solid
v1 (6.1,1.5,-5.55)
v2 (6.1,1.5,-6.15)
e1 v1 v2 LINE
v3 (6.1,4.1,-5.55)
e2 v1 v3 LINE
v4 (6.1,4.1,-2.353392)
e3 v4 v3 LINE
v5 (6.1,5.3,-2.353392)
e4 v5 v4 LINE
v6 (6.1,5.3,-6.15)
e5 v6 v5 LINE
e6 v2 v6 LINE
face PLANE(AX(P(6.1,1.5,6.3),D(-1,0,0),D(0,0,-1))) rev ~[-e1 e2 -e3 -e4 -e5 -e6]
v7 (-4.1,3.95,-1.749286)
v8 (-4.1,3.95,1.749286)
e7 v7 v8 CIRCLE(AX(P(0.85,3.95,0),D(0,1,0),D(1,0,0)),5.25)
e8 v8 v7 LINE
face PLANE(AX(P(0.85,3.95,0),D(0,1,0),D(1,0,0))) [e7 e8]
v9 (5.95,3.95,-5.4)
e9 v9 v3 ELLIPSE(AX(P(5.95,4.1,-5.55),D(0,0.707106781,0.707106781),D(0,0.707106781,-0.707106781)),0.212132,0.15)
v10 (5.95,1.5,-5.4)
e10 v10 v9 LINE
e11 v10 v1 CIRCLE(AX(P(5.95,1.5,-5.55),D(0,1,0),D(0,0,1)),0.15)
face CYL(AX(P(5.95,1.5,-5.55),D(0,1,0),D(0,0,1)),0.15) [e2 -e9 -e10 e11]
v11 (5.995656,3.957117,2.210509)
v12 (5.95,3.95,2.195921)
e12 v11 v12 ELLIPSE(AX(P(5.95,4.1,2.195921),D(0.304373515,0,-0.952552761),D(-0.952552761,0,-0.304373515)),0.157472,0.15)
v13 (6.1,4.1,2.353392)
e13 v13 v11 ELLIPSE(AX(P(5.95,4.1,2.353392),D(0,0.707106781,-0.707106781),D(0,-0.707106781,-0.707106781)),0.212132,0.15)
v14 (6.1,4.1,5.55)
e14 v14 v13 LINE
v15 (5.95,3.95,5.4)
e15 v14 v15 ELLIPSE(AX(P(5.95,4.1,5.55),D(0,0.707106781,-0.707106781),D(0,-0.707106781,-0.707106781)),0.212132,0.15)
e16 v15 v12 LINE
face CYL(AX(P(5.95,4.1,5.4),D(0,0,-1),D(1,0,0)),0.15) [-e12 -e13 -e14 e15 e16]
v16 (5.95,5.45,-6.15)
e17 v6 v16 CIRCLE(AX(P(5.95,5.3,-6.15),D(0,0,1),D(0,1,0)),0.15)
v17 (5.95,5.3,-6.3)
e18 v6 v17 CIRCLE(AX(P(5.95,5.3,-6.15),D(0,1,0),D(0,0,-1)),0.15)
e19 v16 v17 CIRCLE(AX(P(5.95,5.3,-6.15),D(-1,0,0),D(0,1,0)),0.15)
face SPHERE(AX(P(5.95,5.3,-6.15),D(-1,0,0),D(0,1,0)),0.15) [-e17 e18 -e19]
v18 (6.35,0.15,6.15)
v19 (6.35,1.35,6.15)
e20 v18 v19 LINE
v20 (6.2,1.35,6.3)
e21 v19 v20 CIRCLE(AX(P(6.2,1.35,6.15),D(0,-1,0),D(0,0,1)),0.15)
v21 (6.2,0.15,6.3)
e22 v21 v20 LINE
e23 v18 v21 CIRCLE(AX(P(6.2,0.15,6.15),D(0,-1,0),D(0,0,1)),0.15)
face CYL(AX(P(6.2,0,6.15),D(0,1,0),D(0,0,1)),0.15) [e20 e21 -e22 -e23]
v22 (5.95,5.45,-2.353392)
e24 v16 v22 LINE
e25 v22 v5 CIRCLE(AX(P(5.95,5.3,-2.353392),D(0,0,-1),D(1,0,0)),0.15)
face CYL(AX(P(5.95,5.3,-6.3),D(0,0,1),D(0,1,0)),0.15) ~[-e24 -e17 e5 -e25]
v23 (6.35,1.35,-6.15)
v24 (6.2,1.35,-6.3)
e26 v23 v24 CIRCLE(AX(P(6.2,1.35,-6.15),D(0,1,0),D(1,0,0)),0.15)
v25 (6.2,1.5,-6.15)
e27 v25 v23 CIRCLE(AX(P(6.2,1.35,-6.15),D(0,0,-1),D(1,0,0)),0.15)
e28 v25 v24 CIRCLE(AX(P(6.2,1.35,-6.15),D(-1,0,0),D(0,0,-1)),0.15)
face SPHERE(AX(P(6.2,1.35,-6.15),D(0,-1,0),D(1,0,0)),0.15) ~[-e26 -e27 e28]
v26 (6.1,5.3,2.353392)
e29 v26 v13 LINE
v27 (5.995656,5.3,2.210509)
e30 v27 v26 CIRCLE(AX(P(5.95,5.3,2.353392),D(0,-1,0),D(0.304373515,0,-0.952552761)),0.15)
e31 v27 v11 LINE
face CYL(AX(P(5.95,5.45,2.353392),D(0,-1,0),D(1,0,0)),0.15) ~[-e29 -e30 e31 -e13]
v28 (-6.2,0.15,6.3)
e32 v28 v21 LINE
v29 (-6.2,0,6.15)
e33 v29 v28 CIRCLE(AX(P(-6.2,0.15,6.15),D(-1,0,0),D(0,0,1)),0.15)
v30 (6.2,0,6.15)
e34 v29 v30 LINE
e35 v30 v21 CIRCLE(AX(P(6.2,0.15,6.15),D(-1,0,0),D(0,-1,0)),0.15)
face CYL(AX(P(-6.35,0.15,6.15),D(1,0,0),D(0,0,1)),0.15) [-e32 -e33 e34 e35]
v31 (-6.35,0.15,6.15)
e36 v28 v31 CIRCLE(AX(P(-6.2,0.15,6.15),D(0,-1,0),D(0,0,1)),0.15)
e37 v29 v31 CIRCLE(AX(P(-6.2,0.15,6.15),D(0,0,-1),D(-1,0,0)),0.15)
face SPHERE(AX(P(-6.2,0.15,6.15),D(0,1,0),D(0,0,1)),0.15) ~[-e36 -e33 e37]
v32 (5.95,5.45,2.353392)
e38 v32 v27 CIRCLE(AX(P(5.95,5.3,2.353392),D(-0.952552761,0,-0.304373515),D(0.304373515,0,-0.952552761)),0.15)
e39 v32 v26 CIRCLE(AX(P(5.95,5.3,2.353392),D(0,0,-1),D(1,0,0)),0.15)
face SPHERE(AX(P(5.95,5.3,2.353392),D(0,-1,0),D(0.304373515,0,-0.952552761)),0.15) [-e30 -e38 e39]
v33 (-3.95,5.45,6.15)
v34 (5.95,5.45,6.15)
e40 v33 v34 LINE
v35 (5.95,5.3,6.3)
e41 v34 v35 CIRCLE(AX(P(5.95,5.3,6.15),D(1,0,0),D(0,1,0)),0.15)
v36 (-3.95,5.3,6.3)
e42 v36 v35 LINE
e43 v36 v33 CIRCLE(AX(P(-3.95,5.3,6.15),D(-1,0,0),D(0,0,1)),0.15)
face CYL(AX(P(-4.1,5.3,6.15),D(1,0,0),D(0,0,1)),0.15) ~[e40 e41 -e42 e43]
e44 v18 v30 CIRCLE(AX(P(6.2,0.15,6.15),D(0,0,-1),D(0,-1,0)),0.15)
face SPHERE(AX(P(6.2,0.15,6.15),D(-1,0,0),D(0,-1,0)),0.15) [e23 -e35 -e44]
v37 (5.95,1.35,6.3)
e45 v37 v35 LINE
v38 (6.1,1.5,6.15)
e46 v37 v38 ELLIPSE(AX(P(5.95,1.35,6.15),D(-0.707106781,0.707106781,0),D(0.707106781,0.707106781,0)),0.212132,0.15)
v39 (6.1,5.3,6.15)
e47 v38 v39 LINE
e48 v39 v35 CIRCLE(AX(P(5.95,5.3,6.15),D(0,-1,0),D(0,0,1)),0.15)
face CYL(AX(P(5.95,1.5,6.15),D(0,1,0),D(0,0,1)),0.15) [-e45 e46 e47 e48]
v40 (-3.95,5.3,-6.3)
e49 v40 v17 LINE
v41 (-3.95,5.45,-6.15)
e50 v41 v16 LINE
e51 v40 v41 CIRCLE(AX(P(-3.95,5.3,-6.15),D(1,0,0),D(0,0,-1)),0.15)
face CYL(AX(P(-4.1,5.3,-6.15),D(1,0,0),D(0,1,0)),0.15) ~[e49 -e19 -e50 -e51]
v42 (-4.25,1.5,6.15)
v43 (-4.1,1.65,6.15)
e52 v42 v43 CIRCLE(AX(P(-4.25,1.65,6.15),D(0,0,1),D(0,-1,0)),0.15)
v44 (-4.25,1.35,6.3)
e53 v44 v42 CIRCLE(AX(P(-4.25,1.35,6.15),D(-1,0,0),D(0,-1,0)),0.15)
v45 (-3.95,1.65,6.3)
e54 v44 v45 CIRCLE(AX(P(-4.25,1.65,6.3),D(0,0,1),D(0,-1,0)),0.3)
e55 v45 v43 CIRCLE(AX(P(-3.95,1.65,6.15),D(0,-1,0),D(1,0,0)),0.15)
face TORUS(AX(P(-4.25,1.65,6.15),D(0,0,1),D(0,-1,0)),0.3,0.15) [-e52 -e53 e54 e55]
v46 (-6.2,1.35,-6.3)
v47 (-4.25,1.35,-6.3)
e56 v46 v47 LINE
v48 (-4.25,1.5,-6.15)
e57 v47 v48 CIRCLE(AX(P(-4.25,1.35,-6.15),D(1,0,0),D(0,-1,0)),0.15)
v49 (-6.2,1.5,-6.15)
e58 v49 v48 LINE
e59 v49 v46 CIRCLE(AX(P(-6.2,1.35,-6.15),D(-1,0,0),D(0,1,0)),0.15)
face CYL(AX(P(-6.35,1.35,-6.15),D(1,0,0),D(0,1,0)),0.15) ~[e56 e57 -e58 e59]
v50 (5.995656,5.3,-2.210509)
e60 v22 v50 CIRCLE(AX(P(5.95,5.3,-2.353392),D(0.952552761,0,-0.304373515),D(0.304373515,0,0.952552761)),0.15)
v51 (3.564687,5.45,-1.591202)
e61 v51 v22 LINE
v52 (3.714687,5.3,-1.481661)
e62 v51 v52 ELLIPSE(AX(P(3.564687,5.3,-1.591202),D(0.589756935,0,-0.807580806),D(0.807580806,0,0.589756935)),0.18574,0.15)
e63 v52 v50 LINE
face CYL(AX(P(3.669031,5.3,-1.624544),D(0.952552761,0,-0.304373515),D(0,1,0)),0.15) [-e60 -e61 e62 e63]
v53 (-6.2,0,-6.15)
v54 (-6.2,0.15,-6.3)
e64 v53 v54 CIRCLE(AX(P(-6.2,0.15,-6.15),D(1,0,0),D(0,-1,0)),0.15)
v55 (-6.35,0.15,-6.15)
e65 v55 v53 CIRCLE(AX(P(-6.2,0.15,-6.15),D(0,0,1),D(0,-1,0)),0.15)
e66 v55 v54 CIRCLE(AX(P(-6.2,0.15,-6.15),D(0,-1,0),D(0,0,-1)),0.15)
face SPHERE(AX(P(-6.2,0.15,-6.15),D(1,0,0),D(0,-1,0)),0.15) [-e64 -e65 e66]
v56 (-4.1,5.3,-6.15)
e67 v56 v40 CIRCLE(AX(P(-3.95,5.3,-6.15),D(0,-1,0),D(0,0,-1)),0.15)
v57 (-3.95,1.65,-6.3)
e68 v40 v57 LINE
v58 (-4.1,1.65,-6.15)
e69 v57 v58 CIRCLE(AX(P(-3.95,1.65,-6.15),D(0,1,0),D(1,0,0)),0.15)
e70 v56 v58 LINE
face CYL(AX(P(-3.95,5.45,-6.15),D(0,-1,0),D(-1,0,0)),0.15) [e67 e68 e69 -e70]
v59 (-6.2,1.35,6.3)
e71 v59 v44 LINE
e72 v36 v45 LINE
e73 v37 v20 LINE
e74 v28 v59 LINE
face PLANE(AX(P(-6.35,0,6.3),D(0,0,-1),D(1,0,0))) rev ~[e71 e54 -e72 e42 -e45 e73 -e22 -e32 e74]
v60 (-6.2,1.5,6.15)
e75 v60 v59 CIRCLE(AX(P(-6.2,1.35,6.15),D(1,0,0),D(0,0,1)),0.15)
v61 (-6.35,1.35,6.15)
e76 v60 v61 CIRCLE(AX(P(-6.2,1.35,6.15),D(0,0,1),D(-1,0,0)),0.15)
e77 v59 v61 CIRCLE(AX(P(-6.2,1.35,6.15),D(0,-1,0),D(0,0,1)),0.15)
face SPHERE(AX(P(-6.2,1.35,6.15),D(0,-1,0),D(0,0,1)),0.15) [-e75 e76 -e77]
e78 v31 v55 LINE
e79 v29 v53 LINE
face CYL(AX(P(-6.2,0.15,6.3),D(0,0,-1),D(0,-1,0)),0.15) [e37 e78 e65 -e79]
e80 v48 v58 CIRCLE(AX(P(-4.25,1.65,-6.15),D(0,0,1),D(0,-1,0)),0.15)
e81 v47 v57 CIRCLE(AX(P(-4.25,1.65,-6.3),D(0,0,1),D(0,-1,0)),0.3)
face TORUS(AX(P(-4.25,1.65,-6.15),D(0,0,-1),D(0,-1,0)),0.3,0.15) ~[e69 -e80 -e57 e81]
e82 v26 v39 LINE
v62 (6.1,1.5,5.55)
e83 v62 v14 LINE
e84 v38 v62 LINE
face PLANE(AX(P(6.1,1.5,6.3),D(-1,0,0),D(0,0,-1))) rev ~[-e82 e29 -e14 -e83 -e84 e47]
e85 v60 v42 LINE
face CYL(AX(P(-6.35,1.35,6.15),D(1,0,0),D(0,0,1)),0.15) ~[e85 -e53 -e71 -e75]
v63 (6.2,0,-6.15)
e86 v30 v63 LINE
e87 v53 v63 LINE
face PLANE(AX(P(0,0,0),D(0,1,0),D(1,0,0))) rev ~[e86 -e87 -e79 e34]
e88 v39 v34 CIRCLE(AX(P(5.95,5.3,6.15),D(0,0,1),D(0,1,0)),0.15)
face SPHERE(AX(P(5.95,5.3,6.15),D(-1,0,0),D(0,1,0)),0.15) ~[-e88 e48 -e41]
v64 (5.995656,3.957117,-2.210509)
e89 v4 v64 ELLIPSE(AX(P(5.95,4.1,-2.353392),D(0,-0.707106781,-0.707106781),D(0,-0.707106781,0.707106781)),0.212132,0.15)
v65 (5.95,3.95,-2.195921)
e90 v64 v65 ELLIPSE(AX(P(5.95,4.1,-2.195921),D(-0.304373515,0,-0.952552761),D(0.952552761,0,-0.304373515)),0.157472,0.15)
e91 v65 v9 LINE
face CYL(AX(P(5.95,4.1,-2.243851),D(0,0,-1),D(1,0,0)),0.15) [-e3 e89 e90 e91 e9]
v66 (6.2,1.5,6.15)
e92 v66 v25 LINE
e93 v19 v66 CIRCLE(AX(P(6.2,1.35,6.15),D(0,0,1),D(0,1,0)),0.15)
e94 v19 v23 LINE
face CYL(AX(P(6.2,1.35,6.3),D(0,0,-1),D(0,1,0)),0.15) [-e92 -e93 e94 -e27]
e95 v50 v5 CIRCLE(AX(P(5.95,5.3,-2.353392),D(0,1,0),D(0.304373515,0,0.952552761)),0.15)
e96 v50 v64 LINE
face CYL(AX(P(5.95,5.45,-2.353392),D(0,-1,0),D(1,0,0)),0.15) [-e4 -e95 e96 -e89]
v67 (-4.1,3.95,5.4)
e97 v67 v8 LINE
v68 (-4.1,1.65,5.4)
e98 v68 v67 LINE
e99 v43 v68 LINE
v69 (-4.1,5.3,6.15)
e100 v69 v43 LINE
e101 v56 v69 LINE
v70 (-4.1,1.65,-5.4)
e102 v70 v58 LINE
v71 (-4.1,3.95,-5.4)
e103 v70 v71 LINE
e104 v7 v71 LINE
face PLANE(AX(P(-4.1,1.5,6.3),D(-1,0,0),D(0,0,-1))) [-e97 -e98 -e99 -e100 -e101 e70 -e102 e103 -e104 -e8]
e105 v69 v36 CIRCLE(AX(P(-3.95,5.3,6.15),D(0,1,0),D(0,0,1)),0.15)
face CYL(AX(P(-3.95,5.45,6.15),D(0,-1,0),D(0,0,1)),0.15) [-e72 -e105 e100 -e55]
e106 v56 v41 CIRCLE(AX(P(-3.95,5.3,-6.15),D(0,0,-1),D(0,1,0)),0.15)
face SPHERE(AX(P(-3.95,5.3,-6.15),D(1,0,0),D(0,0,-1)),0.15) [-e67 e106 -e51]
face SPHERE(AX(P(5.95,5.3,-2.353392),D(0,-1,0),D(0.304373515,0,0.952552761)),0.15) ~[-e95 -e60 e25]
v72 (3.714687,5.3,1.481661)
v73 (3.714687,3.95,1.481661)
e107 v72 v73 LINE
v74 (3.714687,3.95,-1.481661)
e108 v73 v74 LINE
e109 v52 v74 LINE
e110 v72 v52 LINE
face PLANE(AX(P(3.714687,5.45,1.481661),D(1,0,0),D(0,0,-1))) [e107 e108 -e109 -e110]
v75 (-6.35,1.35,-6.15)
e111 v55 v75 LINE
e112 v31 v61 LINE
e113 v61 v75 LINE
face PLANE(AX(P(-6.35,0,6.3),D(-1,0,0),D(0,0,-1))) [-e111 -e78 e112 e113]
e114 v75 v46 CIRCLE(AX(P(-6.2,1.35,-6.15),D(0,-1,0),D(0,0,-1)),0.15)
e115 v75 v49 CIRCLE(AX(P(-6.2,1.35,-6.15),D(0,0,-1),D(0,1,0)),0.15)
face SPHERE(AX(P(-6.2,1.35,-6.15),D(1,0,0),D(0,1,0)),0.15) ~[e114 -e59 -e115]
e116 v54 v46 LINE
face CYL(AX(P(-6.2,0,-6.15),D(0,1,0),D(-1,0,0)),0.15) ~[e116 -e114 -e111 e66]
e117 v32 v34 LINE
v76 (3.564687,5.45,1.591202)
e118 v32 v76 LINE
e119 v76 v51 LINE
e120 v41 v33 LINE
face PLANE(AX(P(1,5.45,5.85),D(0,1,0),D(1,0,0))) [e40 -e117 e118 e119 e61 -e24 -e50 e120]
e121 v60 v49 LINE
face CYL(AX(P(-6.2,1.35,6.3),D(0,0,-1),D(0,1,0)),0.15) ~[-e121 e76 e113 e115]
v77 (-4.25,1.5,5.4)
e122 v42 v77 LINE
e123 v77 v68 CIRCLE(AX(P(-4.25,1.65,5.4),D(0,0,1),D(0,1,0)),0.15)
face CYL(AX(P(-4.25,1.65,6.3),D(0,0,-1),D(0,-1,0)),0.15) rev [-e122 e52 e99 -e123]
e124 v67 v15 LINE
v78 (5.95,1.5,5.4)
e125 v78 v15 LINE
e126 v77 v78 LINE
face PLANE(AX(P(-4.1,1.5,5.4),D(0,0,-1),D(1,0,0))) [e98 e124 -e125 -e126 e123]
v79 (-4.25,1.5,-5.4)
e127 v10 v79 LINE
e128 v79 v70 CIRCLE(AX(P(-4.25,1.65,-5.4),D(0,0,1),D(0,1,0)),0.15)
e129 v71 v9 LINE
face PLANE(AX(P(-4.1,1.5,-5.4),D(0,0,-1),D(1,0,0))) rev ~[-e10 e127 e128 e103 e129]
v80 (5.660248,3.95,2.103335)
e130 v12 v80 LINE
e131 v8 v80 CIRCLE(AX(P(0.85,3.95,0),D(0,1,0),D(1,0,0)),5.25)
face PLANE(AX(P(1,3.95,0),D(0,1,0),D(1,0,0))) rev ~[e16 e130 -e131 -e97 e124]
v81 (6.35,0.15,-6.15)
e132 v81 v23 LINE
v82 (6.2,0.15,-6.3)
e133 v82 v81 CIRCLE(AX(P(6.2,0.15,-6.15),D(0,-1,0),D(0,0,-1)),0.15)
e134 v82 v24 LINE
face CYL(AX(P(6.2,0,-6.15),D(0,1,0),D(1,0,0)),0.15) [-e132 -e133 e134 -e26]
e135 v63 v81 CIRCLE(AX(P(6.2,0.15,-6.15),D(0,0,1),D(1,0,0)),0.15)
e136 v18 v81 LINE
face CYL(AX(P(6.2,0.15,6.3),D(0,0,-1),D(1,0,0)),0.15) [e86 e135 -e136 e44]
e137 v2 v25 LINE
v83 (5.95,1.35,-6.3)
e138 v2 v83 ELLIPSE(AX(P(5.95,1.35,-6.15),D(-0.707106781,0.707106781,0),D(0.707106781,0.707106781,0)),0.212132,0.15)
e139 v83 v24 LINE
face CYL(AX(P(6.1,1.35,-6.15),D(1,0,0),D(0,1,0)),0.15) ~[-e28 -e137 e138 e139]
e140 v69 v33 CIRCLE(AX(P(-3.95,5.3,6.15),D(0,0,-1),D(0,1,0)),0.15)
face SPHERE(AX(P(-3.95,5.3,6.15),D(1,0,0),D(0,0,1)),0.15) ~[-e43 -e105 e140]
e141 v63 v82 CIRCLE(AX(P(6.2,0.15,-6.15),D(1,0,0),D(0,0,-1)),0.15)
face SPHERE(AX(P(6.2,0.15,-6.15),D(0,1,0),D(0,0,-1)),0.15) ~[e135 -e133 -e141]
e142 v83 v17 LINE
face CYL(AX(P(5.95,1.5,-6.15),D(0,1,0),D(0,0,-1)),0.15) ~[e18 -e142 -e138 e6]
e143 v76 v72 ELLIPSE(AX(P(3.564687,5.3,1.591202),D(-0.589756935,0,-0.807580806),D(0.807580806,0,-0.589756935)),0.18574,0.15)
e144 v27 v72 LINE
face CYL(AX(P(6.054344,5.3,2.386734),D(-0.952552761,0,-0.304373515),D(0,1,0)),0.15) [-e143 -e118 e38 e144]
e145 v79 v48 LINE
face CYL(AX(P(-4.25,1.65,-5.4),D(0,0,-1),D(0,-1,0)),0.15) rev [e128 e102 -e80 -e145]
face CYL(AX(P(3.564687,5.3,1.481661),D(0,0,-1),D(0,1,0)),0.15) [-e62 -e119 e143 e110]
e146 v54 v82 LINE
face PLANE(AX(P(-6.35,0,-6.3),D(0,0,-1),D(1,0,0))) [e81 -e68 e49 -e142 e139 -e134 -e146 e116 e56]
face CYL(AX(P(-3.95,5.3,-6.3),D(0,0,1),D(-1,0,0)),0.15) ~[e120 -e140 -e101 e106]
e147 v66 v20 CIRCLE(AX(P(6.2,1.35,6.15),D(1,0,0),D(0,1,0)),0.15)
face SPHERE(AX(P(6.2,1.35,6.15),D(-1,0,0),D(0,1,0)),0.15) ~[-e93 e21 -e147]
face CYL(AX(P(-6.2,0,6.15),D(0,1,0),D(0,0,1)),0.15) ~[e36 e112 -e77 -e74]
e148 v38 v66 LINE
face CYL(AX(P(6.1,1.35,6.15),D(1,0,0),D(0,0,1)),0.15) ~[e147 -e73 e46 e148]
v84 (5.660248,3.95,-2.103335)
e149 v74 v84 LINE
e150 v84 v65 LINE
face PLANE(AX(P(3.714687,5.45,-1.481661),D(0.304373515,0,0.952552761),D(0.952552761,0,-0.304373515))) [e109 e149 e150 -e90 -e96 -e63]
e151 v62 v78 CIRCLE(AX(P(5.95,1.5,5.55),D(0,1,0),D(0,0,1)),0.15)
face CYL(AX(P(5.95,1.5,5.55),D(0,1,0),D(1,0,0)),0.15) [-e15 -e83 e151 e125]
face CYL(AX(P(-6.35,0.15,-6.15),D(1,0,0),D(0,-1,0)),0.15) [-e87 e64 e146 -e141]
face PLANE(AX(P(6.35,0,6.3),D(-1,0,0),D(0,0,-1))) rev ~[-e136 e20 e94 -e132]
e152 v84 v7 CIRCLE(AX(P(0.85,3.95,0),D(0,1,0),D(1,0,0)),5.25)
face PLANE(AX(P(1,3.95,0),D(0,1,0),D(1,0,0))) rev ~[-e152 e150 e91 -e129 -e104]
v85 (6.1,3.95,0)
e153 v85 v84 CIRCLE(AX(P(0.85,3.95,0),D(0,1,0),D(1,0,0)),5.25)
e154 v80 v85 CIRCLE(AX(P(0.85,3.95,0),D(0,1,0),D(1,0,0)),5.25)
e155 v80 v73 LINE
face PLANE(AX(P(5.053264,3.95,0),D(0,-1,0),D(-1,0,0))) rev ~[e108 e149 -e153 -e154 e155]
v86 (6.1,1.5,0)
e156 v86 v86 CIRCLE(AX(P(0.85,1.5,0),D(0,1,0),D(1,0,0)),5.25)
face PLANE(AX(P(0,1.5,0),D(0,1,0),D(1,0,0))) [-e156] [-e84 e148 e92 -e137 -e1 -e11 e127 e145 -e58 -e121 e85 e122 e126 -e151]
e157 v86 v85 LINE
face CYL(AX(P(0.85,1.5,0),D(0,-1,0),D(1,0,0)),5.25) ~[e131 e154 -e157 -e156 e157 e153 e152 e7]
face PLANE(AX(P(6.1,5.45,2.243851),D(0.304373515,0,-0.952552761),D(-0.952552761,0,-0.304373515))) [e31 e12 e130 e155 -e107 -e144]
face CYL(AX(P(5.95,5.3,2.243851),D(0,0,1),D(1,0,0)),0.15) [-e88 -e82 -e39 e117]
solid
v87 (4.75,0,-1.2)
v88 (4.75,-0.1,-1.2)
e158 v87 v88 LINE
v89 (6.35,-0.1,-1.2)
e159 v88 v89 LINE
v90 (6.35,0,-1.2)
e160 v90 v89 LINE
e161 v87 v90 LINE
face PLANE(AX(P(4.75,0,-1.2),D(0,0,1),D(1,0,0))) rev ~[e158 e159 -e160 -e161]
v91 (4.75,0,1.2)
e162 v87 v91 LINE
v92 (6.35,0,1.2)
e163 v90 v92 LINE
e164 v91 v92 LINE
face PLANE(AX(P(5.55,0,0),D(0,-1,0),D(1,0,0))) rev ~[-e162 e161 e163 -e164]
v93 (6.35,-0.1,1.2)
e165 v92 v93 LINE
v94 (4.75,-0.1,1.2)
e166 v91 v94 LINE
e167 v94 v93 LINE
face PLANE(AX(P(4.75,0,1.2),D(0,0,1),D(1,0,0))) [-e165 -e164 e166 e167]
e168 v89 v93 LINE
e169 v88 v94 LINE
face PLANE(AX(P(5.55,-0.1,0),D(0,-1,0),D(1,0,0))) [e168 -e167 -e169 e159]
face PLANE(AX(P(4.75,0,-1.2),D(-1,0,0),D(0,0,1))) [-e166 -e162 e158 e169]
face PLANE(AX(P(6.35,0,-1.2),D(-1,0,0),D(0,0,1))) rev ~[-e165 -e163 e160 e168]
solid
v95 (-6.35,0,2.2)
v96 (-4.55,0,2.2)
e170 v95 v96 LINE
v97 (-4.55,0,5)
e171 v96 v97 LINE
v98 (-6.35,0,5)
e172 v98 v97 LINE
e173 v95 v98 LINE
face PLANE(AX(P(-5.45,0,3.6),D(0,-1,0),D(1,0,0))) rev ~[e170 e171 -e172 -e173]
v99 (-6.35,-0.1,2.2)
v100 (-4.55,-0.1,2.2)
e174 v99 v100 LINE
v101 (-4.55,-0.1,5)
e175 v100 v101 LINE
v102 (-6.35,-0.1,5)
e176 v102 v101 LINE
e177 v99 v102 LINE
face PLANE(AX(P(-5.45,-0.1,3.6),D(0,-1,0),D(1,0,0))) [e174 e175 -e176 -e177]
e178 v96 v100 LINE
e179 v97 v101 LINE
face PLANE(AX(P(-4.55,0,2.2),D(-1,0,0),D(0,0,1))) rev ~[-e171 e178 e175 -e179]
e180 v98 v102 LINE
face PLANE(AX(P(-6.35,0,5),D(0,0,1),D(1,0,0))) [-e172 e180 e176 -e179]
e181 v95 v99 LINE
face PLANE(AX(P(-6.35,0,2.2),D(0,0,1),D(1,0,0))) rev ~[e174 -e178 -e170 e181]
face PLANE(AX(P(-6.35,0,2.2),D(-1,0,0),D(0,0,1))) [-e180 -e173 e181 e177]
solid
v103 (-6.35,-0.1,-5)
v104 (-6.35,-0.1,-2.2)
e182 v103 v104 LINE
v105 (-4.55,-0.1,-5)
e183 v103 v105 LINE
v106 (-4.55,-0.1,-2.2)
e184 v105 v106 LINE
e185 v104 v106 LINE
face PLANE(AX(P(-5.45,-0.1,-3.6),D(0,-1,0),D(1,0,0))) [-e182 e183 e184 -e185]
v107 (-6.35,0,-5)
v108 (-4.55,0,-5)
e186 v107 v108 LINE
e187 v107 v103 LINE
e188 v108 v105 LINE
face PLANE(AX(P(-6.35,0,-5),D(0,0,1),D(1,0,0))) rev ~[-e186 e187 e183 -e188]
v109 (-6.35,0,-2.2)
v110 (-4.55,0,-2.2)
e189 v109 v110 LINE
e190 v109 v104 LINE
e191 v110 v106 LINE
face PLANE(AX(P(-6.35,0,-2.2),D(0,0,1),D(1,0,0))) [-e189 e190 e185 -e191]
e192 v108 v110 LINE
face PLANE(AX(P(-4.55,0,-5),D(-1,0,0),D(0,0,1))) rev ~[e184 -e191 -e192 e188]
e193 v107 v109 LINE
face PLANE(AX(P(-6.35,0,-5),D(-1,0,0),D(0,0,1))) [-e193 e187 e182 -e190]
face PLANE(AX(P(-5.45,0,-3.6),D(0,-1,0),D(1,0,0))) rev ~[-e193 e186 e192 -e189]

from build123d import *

# Parameters (mm, degrees)
SKETCH1_W             = 12.7
SKETCH1_H             = 12.6
BOSS_EXTRUDE1_DEPTH   = 1.5
SKETCH2_R             = 5.25
BOSS_EXTRUDE2_DEPTH   = 2.45
SKETCH3_W             = 10.2
SKETCH3_H             = 0.9
BOSS_EXTRUDE3_DEPTH   = 3.95
SKETCH4_W             = 10.2
SKETCH4_H             = 12.6
BOSS_EXTRUDE4_DEPTH   = 1.5
CUT_EXTRUDE1_DEPTH    = 1.5
SKETCH6_W             = 1.8
SKETCH6_H             = 2.8
BOSS_EXTRUDE5_DEPTH   = 0.1
BOSS_EXTRUDE5_2_DEPTH = 0.1
SKETCH6_W_2           = 1.6
SKETCH6_H_2           = 2.4
BOSS_EXTRUDE5_3_DEPTH = 0.1
FILLET1_R             = 0.15


with BuildPart() as part:
    # Sketch1 → Boss-Extrude1 (new body)
    with BuildSketch(Plane(origin=(0, 0, 0), x_dir=(1, 0, 0), z_dir=(0, 1, 0))):
        Rectangle(SKETCH1_W, SKETCH1_H)
    extrude(amount=BOSS_EXTRUDE1_DEPTH)

    # Sketch3 → Boss-Extrude3 (add)
    with BuildSketch(Plane(origin=(0, 1.5, 0), x_dir=(1, 0, 0), z_dir=(0, 1, 0))):
        with Locations((1, 5.85)):
            Rectangle(SKETCH3_W, SKETCH3_H)
        with Locations((1, -5.85)):
            Rectangle(SKETCH3_W, SKETCH3_H)
    extrude(amount=BOSS_EXTRUDE3_DEPTH)



with BuildPart() as body_2:
    # Sketch2 → Boss-Extrude2 (new body)
    with BuildSketch(Plane(origin=(0, 1.5, 0), x_dir=(1, 0, 0), z_dir=(0, 1, 0))):
        with Locations((0.85, 0)):
            Circle(SKETCH2_R)
    extrude(amount=BOSS_EXTRUDE2_DEPTH)


with BuildPart() as part_1:
    add(part.part)

    add(body_2.part)  # Boss-Extrude4 merges body 2
    # Sketch4 → Boss-Extrude4 (add)
    with BuildSketch(Plane(origin=(0, 5.45, 0), x_dir=(1, 0, 0), z_dir=(0, 1, 0))):
        with Locations((1, 0)):
            Rectangle(SKETCH4_W, SKETCH4_H)
    extrude(amount=-BOSS_EXTRUDE4_DEPTH)

    # Sketch5 → Cut-Extrude1 (cut)
    with BuildSketch(Plane(origin=(0, 5.45, 0), x_dir=(1, 0, 0), z_dir=(0, 1, 0))):
        Polygon((3.714686841, -1.48166104), (3.714686841, 1.48166104), (6.1, 2.243851), (6.1, -2.243851), align=None)
    extrude(amount=-CUT_EXTRUDE1_DEPTH, mode=Mode.SUBTRACT)

    # Fillet1
    fillet1_edges = [part_1.edges().sort_by_distance(p)[0] for p in [
        (1, 5.45, 6.3),
        (6.1, 5.45, 4.2719255),
        (1, 5.45, -6.3),
        (6.1, 3.95, 3.8219255),
        (-6.35, 0.75, 6.3),
        (0, 0, 6.3),
        (6.35, 0.75, -6.3),
        (0, 0, -6.3),
        (-4.1, 1.5, -5.85),
        (6.1, 2.725, -5.4),
        (-4.1, 1.5, 5.85),
        (6.1, 2.725, 5.4),
        (-5.225, 1.5, 6.3),
        (6.225, 1.5, 6.3),
        (6.35, 1.5, 0),
        (6.225, 1.5, -6.3),
        (-5.225, 1.5, -6.3),
        (-6.35, 1.5, 0),
        (-6.35, 0, 0),
        (-6.35, 0.75, -6.3),
        (6.35, 0, 0),
        (6.35, 0.75, 6.3),
        (6.1, 5.45, -4.2719255),
        (6.1, 3.95, -3.8219255),
        (6.1, 4.7, -2.243851),
        (6.1, 4.7, 2.243851),
        (4.90734342, 5.45, -1.86275602),
        (3.714686841, 5.45, 0),
        (4.90734342, 5.45, 1.86275602),
        (-4.1, 3.475, 6.3),
        (-4.1, 3.475, -6.3),
        (6.1, 3.475, -6.3),
        (6.1, 3.475, 6.3),
        (-4.1, 5.45, 0),
    ]]
    fillet(fillet1_edges, radius=FILLET1_R)


with BuildPart() as body_2_2:
    # Sketch6 → Boss-Extrude5 (new body)
    with BuildSketch(Plane.XZ):
        with Locations((-5.45, -3.6)):
            Rectangle(SKETCH6_W, SKETCH6_H)
    extrude(amount=BOSS_EXTRUDE5_DEPTH)


with BuildPart() as body_3:
    # Sketch6 → Boss-Extrude5 2 (new body)
    with BuildSketch(Plane.XZ):
        with Locations((-5.45, 3.6)):
            Rectangle(SKETCH6_W, SKETCH6_H)
    extrude(amount=BOSS_EXTRUDE5_2_DEPTH)


with BuildPart() as body_4:
    # Sketch6 → Boss-Extrude5 3 (new body)
    with BuildSketch(Plane.XZ):
        with Locations((5.55, 0)):
            Rectangle(SKETCH6_W_2, SKETCH6_H_2)
    extrude(amount=BOSS_EXTRUDE5_3_DEPTH)


solid = Compound([part_1.part, body_2_2.part, body_3.part, body_4.part])
